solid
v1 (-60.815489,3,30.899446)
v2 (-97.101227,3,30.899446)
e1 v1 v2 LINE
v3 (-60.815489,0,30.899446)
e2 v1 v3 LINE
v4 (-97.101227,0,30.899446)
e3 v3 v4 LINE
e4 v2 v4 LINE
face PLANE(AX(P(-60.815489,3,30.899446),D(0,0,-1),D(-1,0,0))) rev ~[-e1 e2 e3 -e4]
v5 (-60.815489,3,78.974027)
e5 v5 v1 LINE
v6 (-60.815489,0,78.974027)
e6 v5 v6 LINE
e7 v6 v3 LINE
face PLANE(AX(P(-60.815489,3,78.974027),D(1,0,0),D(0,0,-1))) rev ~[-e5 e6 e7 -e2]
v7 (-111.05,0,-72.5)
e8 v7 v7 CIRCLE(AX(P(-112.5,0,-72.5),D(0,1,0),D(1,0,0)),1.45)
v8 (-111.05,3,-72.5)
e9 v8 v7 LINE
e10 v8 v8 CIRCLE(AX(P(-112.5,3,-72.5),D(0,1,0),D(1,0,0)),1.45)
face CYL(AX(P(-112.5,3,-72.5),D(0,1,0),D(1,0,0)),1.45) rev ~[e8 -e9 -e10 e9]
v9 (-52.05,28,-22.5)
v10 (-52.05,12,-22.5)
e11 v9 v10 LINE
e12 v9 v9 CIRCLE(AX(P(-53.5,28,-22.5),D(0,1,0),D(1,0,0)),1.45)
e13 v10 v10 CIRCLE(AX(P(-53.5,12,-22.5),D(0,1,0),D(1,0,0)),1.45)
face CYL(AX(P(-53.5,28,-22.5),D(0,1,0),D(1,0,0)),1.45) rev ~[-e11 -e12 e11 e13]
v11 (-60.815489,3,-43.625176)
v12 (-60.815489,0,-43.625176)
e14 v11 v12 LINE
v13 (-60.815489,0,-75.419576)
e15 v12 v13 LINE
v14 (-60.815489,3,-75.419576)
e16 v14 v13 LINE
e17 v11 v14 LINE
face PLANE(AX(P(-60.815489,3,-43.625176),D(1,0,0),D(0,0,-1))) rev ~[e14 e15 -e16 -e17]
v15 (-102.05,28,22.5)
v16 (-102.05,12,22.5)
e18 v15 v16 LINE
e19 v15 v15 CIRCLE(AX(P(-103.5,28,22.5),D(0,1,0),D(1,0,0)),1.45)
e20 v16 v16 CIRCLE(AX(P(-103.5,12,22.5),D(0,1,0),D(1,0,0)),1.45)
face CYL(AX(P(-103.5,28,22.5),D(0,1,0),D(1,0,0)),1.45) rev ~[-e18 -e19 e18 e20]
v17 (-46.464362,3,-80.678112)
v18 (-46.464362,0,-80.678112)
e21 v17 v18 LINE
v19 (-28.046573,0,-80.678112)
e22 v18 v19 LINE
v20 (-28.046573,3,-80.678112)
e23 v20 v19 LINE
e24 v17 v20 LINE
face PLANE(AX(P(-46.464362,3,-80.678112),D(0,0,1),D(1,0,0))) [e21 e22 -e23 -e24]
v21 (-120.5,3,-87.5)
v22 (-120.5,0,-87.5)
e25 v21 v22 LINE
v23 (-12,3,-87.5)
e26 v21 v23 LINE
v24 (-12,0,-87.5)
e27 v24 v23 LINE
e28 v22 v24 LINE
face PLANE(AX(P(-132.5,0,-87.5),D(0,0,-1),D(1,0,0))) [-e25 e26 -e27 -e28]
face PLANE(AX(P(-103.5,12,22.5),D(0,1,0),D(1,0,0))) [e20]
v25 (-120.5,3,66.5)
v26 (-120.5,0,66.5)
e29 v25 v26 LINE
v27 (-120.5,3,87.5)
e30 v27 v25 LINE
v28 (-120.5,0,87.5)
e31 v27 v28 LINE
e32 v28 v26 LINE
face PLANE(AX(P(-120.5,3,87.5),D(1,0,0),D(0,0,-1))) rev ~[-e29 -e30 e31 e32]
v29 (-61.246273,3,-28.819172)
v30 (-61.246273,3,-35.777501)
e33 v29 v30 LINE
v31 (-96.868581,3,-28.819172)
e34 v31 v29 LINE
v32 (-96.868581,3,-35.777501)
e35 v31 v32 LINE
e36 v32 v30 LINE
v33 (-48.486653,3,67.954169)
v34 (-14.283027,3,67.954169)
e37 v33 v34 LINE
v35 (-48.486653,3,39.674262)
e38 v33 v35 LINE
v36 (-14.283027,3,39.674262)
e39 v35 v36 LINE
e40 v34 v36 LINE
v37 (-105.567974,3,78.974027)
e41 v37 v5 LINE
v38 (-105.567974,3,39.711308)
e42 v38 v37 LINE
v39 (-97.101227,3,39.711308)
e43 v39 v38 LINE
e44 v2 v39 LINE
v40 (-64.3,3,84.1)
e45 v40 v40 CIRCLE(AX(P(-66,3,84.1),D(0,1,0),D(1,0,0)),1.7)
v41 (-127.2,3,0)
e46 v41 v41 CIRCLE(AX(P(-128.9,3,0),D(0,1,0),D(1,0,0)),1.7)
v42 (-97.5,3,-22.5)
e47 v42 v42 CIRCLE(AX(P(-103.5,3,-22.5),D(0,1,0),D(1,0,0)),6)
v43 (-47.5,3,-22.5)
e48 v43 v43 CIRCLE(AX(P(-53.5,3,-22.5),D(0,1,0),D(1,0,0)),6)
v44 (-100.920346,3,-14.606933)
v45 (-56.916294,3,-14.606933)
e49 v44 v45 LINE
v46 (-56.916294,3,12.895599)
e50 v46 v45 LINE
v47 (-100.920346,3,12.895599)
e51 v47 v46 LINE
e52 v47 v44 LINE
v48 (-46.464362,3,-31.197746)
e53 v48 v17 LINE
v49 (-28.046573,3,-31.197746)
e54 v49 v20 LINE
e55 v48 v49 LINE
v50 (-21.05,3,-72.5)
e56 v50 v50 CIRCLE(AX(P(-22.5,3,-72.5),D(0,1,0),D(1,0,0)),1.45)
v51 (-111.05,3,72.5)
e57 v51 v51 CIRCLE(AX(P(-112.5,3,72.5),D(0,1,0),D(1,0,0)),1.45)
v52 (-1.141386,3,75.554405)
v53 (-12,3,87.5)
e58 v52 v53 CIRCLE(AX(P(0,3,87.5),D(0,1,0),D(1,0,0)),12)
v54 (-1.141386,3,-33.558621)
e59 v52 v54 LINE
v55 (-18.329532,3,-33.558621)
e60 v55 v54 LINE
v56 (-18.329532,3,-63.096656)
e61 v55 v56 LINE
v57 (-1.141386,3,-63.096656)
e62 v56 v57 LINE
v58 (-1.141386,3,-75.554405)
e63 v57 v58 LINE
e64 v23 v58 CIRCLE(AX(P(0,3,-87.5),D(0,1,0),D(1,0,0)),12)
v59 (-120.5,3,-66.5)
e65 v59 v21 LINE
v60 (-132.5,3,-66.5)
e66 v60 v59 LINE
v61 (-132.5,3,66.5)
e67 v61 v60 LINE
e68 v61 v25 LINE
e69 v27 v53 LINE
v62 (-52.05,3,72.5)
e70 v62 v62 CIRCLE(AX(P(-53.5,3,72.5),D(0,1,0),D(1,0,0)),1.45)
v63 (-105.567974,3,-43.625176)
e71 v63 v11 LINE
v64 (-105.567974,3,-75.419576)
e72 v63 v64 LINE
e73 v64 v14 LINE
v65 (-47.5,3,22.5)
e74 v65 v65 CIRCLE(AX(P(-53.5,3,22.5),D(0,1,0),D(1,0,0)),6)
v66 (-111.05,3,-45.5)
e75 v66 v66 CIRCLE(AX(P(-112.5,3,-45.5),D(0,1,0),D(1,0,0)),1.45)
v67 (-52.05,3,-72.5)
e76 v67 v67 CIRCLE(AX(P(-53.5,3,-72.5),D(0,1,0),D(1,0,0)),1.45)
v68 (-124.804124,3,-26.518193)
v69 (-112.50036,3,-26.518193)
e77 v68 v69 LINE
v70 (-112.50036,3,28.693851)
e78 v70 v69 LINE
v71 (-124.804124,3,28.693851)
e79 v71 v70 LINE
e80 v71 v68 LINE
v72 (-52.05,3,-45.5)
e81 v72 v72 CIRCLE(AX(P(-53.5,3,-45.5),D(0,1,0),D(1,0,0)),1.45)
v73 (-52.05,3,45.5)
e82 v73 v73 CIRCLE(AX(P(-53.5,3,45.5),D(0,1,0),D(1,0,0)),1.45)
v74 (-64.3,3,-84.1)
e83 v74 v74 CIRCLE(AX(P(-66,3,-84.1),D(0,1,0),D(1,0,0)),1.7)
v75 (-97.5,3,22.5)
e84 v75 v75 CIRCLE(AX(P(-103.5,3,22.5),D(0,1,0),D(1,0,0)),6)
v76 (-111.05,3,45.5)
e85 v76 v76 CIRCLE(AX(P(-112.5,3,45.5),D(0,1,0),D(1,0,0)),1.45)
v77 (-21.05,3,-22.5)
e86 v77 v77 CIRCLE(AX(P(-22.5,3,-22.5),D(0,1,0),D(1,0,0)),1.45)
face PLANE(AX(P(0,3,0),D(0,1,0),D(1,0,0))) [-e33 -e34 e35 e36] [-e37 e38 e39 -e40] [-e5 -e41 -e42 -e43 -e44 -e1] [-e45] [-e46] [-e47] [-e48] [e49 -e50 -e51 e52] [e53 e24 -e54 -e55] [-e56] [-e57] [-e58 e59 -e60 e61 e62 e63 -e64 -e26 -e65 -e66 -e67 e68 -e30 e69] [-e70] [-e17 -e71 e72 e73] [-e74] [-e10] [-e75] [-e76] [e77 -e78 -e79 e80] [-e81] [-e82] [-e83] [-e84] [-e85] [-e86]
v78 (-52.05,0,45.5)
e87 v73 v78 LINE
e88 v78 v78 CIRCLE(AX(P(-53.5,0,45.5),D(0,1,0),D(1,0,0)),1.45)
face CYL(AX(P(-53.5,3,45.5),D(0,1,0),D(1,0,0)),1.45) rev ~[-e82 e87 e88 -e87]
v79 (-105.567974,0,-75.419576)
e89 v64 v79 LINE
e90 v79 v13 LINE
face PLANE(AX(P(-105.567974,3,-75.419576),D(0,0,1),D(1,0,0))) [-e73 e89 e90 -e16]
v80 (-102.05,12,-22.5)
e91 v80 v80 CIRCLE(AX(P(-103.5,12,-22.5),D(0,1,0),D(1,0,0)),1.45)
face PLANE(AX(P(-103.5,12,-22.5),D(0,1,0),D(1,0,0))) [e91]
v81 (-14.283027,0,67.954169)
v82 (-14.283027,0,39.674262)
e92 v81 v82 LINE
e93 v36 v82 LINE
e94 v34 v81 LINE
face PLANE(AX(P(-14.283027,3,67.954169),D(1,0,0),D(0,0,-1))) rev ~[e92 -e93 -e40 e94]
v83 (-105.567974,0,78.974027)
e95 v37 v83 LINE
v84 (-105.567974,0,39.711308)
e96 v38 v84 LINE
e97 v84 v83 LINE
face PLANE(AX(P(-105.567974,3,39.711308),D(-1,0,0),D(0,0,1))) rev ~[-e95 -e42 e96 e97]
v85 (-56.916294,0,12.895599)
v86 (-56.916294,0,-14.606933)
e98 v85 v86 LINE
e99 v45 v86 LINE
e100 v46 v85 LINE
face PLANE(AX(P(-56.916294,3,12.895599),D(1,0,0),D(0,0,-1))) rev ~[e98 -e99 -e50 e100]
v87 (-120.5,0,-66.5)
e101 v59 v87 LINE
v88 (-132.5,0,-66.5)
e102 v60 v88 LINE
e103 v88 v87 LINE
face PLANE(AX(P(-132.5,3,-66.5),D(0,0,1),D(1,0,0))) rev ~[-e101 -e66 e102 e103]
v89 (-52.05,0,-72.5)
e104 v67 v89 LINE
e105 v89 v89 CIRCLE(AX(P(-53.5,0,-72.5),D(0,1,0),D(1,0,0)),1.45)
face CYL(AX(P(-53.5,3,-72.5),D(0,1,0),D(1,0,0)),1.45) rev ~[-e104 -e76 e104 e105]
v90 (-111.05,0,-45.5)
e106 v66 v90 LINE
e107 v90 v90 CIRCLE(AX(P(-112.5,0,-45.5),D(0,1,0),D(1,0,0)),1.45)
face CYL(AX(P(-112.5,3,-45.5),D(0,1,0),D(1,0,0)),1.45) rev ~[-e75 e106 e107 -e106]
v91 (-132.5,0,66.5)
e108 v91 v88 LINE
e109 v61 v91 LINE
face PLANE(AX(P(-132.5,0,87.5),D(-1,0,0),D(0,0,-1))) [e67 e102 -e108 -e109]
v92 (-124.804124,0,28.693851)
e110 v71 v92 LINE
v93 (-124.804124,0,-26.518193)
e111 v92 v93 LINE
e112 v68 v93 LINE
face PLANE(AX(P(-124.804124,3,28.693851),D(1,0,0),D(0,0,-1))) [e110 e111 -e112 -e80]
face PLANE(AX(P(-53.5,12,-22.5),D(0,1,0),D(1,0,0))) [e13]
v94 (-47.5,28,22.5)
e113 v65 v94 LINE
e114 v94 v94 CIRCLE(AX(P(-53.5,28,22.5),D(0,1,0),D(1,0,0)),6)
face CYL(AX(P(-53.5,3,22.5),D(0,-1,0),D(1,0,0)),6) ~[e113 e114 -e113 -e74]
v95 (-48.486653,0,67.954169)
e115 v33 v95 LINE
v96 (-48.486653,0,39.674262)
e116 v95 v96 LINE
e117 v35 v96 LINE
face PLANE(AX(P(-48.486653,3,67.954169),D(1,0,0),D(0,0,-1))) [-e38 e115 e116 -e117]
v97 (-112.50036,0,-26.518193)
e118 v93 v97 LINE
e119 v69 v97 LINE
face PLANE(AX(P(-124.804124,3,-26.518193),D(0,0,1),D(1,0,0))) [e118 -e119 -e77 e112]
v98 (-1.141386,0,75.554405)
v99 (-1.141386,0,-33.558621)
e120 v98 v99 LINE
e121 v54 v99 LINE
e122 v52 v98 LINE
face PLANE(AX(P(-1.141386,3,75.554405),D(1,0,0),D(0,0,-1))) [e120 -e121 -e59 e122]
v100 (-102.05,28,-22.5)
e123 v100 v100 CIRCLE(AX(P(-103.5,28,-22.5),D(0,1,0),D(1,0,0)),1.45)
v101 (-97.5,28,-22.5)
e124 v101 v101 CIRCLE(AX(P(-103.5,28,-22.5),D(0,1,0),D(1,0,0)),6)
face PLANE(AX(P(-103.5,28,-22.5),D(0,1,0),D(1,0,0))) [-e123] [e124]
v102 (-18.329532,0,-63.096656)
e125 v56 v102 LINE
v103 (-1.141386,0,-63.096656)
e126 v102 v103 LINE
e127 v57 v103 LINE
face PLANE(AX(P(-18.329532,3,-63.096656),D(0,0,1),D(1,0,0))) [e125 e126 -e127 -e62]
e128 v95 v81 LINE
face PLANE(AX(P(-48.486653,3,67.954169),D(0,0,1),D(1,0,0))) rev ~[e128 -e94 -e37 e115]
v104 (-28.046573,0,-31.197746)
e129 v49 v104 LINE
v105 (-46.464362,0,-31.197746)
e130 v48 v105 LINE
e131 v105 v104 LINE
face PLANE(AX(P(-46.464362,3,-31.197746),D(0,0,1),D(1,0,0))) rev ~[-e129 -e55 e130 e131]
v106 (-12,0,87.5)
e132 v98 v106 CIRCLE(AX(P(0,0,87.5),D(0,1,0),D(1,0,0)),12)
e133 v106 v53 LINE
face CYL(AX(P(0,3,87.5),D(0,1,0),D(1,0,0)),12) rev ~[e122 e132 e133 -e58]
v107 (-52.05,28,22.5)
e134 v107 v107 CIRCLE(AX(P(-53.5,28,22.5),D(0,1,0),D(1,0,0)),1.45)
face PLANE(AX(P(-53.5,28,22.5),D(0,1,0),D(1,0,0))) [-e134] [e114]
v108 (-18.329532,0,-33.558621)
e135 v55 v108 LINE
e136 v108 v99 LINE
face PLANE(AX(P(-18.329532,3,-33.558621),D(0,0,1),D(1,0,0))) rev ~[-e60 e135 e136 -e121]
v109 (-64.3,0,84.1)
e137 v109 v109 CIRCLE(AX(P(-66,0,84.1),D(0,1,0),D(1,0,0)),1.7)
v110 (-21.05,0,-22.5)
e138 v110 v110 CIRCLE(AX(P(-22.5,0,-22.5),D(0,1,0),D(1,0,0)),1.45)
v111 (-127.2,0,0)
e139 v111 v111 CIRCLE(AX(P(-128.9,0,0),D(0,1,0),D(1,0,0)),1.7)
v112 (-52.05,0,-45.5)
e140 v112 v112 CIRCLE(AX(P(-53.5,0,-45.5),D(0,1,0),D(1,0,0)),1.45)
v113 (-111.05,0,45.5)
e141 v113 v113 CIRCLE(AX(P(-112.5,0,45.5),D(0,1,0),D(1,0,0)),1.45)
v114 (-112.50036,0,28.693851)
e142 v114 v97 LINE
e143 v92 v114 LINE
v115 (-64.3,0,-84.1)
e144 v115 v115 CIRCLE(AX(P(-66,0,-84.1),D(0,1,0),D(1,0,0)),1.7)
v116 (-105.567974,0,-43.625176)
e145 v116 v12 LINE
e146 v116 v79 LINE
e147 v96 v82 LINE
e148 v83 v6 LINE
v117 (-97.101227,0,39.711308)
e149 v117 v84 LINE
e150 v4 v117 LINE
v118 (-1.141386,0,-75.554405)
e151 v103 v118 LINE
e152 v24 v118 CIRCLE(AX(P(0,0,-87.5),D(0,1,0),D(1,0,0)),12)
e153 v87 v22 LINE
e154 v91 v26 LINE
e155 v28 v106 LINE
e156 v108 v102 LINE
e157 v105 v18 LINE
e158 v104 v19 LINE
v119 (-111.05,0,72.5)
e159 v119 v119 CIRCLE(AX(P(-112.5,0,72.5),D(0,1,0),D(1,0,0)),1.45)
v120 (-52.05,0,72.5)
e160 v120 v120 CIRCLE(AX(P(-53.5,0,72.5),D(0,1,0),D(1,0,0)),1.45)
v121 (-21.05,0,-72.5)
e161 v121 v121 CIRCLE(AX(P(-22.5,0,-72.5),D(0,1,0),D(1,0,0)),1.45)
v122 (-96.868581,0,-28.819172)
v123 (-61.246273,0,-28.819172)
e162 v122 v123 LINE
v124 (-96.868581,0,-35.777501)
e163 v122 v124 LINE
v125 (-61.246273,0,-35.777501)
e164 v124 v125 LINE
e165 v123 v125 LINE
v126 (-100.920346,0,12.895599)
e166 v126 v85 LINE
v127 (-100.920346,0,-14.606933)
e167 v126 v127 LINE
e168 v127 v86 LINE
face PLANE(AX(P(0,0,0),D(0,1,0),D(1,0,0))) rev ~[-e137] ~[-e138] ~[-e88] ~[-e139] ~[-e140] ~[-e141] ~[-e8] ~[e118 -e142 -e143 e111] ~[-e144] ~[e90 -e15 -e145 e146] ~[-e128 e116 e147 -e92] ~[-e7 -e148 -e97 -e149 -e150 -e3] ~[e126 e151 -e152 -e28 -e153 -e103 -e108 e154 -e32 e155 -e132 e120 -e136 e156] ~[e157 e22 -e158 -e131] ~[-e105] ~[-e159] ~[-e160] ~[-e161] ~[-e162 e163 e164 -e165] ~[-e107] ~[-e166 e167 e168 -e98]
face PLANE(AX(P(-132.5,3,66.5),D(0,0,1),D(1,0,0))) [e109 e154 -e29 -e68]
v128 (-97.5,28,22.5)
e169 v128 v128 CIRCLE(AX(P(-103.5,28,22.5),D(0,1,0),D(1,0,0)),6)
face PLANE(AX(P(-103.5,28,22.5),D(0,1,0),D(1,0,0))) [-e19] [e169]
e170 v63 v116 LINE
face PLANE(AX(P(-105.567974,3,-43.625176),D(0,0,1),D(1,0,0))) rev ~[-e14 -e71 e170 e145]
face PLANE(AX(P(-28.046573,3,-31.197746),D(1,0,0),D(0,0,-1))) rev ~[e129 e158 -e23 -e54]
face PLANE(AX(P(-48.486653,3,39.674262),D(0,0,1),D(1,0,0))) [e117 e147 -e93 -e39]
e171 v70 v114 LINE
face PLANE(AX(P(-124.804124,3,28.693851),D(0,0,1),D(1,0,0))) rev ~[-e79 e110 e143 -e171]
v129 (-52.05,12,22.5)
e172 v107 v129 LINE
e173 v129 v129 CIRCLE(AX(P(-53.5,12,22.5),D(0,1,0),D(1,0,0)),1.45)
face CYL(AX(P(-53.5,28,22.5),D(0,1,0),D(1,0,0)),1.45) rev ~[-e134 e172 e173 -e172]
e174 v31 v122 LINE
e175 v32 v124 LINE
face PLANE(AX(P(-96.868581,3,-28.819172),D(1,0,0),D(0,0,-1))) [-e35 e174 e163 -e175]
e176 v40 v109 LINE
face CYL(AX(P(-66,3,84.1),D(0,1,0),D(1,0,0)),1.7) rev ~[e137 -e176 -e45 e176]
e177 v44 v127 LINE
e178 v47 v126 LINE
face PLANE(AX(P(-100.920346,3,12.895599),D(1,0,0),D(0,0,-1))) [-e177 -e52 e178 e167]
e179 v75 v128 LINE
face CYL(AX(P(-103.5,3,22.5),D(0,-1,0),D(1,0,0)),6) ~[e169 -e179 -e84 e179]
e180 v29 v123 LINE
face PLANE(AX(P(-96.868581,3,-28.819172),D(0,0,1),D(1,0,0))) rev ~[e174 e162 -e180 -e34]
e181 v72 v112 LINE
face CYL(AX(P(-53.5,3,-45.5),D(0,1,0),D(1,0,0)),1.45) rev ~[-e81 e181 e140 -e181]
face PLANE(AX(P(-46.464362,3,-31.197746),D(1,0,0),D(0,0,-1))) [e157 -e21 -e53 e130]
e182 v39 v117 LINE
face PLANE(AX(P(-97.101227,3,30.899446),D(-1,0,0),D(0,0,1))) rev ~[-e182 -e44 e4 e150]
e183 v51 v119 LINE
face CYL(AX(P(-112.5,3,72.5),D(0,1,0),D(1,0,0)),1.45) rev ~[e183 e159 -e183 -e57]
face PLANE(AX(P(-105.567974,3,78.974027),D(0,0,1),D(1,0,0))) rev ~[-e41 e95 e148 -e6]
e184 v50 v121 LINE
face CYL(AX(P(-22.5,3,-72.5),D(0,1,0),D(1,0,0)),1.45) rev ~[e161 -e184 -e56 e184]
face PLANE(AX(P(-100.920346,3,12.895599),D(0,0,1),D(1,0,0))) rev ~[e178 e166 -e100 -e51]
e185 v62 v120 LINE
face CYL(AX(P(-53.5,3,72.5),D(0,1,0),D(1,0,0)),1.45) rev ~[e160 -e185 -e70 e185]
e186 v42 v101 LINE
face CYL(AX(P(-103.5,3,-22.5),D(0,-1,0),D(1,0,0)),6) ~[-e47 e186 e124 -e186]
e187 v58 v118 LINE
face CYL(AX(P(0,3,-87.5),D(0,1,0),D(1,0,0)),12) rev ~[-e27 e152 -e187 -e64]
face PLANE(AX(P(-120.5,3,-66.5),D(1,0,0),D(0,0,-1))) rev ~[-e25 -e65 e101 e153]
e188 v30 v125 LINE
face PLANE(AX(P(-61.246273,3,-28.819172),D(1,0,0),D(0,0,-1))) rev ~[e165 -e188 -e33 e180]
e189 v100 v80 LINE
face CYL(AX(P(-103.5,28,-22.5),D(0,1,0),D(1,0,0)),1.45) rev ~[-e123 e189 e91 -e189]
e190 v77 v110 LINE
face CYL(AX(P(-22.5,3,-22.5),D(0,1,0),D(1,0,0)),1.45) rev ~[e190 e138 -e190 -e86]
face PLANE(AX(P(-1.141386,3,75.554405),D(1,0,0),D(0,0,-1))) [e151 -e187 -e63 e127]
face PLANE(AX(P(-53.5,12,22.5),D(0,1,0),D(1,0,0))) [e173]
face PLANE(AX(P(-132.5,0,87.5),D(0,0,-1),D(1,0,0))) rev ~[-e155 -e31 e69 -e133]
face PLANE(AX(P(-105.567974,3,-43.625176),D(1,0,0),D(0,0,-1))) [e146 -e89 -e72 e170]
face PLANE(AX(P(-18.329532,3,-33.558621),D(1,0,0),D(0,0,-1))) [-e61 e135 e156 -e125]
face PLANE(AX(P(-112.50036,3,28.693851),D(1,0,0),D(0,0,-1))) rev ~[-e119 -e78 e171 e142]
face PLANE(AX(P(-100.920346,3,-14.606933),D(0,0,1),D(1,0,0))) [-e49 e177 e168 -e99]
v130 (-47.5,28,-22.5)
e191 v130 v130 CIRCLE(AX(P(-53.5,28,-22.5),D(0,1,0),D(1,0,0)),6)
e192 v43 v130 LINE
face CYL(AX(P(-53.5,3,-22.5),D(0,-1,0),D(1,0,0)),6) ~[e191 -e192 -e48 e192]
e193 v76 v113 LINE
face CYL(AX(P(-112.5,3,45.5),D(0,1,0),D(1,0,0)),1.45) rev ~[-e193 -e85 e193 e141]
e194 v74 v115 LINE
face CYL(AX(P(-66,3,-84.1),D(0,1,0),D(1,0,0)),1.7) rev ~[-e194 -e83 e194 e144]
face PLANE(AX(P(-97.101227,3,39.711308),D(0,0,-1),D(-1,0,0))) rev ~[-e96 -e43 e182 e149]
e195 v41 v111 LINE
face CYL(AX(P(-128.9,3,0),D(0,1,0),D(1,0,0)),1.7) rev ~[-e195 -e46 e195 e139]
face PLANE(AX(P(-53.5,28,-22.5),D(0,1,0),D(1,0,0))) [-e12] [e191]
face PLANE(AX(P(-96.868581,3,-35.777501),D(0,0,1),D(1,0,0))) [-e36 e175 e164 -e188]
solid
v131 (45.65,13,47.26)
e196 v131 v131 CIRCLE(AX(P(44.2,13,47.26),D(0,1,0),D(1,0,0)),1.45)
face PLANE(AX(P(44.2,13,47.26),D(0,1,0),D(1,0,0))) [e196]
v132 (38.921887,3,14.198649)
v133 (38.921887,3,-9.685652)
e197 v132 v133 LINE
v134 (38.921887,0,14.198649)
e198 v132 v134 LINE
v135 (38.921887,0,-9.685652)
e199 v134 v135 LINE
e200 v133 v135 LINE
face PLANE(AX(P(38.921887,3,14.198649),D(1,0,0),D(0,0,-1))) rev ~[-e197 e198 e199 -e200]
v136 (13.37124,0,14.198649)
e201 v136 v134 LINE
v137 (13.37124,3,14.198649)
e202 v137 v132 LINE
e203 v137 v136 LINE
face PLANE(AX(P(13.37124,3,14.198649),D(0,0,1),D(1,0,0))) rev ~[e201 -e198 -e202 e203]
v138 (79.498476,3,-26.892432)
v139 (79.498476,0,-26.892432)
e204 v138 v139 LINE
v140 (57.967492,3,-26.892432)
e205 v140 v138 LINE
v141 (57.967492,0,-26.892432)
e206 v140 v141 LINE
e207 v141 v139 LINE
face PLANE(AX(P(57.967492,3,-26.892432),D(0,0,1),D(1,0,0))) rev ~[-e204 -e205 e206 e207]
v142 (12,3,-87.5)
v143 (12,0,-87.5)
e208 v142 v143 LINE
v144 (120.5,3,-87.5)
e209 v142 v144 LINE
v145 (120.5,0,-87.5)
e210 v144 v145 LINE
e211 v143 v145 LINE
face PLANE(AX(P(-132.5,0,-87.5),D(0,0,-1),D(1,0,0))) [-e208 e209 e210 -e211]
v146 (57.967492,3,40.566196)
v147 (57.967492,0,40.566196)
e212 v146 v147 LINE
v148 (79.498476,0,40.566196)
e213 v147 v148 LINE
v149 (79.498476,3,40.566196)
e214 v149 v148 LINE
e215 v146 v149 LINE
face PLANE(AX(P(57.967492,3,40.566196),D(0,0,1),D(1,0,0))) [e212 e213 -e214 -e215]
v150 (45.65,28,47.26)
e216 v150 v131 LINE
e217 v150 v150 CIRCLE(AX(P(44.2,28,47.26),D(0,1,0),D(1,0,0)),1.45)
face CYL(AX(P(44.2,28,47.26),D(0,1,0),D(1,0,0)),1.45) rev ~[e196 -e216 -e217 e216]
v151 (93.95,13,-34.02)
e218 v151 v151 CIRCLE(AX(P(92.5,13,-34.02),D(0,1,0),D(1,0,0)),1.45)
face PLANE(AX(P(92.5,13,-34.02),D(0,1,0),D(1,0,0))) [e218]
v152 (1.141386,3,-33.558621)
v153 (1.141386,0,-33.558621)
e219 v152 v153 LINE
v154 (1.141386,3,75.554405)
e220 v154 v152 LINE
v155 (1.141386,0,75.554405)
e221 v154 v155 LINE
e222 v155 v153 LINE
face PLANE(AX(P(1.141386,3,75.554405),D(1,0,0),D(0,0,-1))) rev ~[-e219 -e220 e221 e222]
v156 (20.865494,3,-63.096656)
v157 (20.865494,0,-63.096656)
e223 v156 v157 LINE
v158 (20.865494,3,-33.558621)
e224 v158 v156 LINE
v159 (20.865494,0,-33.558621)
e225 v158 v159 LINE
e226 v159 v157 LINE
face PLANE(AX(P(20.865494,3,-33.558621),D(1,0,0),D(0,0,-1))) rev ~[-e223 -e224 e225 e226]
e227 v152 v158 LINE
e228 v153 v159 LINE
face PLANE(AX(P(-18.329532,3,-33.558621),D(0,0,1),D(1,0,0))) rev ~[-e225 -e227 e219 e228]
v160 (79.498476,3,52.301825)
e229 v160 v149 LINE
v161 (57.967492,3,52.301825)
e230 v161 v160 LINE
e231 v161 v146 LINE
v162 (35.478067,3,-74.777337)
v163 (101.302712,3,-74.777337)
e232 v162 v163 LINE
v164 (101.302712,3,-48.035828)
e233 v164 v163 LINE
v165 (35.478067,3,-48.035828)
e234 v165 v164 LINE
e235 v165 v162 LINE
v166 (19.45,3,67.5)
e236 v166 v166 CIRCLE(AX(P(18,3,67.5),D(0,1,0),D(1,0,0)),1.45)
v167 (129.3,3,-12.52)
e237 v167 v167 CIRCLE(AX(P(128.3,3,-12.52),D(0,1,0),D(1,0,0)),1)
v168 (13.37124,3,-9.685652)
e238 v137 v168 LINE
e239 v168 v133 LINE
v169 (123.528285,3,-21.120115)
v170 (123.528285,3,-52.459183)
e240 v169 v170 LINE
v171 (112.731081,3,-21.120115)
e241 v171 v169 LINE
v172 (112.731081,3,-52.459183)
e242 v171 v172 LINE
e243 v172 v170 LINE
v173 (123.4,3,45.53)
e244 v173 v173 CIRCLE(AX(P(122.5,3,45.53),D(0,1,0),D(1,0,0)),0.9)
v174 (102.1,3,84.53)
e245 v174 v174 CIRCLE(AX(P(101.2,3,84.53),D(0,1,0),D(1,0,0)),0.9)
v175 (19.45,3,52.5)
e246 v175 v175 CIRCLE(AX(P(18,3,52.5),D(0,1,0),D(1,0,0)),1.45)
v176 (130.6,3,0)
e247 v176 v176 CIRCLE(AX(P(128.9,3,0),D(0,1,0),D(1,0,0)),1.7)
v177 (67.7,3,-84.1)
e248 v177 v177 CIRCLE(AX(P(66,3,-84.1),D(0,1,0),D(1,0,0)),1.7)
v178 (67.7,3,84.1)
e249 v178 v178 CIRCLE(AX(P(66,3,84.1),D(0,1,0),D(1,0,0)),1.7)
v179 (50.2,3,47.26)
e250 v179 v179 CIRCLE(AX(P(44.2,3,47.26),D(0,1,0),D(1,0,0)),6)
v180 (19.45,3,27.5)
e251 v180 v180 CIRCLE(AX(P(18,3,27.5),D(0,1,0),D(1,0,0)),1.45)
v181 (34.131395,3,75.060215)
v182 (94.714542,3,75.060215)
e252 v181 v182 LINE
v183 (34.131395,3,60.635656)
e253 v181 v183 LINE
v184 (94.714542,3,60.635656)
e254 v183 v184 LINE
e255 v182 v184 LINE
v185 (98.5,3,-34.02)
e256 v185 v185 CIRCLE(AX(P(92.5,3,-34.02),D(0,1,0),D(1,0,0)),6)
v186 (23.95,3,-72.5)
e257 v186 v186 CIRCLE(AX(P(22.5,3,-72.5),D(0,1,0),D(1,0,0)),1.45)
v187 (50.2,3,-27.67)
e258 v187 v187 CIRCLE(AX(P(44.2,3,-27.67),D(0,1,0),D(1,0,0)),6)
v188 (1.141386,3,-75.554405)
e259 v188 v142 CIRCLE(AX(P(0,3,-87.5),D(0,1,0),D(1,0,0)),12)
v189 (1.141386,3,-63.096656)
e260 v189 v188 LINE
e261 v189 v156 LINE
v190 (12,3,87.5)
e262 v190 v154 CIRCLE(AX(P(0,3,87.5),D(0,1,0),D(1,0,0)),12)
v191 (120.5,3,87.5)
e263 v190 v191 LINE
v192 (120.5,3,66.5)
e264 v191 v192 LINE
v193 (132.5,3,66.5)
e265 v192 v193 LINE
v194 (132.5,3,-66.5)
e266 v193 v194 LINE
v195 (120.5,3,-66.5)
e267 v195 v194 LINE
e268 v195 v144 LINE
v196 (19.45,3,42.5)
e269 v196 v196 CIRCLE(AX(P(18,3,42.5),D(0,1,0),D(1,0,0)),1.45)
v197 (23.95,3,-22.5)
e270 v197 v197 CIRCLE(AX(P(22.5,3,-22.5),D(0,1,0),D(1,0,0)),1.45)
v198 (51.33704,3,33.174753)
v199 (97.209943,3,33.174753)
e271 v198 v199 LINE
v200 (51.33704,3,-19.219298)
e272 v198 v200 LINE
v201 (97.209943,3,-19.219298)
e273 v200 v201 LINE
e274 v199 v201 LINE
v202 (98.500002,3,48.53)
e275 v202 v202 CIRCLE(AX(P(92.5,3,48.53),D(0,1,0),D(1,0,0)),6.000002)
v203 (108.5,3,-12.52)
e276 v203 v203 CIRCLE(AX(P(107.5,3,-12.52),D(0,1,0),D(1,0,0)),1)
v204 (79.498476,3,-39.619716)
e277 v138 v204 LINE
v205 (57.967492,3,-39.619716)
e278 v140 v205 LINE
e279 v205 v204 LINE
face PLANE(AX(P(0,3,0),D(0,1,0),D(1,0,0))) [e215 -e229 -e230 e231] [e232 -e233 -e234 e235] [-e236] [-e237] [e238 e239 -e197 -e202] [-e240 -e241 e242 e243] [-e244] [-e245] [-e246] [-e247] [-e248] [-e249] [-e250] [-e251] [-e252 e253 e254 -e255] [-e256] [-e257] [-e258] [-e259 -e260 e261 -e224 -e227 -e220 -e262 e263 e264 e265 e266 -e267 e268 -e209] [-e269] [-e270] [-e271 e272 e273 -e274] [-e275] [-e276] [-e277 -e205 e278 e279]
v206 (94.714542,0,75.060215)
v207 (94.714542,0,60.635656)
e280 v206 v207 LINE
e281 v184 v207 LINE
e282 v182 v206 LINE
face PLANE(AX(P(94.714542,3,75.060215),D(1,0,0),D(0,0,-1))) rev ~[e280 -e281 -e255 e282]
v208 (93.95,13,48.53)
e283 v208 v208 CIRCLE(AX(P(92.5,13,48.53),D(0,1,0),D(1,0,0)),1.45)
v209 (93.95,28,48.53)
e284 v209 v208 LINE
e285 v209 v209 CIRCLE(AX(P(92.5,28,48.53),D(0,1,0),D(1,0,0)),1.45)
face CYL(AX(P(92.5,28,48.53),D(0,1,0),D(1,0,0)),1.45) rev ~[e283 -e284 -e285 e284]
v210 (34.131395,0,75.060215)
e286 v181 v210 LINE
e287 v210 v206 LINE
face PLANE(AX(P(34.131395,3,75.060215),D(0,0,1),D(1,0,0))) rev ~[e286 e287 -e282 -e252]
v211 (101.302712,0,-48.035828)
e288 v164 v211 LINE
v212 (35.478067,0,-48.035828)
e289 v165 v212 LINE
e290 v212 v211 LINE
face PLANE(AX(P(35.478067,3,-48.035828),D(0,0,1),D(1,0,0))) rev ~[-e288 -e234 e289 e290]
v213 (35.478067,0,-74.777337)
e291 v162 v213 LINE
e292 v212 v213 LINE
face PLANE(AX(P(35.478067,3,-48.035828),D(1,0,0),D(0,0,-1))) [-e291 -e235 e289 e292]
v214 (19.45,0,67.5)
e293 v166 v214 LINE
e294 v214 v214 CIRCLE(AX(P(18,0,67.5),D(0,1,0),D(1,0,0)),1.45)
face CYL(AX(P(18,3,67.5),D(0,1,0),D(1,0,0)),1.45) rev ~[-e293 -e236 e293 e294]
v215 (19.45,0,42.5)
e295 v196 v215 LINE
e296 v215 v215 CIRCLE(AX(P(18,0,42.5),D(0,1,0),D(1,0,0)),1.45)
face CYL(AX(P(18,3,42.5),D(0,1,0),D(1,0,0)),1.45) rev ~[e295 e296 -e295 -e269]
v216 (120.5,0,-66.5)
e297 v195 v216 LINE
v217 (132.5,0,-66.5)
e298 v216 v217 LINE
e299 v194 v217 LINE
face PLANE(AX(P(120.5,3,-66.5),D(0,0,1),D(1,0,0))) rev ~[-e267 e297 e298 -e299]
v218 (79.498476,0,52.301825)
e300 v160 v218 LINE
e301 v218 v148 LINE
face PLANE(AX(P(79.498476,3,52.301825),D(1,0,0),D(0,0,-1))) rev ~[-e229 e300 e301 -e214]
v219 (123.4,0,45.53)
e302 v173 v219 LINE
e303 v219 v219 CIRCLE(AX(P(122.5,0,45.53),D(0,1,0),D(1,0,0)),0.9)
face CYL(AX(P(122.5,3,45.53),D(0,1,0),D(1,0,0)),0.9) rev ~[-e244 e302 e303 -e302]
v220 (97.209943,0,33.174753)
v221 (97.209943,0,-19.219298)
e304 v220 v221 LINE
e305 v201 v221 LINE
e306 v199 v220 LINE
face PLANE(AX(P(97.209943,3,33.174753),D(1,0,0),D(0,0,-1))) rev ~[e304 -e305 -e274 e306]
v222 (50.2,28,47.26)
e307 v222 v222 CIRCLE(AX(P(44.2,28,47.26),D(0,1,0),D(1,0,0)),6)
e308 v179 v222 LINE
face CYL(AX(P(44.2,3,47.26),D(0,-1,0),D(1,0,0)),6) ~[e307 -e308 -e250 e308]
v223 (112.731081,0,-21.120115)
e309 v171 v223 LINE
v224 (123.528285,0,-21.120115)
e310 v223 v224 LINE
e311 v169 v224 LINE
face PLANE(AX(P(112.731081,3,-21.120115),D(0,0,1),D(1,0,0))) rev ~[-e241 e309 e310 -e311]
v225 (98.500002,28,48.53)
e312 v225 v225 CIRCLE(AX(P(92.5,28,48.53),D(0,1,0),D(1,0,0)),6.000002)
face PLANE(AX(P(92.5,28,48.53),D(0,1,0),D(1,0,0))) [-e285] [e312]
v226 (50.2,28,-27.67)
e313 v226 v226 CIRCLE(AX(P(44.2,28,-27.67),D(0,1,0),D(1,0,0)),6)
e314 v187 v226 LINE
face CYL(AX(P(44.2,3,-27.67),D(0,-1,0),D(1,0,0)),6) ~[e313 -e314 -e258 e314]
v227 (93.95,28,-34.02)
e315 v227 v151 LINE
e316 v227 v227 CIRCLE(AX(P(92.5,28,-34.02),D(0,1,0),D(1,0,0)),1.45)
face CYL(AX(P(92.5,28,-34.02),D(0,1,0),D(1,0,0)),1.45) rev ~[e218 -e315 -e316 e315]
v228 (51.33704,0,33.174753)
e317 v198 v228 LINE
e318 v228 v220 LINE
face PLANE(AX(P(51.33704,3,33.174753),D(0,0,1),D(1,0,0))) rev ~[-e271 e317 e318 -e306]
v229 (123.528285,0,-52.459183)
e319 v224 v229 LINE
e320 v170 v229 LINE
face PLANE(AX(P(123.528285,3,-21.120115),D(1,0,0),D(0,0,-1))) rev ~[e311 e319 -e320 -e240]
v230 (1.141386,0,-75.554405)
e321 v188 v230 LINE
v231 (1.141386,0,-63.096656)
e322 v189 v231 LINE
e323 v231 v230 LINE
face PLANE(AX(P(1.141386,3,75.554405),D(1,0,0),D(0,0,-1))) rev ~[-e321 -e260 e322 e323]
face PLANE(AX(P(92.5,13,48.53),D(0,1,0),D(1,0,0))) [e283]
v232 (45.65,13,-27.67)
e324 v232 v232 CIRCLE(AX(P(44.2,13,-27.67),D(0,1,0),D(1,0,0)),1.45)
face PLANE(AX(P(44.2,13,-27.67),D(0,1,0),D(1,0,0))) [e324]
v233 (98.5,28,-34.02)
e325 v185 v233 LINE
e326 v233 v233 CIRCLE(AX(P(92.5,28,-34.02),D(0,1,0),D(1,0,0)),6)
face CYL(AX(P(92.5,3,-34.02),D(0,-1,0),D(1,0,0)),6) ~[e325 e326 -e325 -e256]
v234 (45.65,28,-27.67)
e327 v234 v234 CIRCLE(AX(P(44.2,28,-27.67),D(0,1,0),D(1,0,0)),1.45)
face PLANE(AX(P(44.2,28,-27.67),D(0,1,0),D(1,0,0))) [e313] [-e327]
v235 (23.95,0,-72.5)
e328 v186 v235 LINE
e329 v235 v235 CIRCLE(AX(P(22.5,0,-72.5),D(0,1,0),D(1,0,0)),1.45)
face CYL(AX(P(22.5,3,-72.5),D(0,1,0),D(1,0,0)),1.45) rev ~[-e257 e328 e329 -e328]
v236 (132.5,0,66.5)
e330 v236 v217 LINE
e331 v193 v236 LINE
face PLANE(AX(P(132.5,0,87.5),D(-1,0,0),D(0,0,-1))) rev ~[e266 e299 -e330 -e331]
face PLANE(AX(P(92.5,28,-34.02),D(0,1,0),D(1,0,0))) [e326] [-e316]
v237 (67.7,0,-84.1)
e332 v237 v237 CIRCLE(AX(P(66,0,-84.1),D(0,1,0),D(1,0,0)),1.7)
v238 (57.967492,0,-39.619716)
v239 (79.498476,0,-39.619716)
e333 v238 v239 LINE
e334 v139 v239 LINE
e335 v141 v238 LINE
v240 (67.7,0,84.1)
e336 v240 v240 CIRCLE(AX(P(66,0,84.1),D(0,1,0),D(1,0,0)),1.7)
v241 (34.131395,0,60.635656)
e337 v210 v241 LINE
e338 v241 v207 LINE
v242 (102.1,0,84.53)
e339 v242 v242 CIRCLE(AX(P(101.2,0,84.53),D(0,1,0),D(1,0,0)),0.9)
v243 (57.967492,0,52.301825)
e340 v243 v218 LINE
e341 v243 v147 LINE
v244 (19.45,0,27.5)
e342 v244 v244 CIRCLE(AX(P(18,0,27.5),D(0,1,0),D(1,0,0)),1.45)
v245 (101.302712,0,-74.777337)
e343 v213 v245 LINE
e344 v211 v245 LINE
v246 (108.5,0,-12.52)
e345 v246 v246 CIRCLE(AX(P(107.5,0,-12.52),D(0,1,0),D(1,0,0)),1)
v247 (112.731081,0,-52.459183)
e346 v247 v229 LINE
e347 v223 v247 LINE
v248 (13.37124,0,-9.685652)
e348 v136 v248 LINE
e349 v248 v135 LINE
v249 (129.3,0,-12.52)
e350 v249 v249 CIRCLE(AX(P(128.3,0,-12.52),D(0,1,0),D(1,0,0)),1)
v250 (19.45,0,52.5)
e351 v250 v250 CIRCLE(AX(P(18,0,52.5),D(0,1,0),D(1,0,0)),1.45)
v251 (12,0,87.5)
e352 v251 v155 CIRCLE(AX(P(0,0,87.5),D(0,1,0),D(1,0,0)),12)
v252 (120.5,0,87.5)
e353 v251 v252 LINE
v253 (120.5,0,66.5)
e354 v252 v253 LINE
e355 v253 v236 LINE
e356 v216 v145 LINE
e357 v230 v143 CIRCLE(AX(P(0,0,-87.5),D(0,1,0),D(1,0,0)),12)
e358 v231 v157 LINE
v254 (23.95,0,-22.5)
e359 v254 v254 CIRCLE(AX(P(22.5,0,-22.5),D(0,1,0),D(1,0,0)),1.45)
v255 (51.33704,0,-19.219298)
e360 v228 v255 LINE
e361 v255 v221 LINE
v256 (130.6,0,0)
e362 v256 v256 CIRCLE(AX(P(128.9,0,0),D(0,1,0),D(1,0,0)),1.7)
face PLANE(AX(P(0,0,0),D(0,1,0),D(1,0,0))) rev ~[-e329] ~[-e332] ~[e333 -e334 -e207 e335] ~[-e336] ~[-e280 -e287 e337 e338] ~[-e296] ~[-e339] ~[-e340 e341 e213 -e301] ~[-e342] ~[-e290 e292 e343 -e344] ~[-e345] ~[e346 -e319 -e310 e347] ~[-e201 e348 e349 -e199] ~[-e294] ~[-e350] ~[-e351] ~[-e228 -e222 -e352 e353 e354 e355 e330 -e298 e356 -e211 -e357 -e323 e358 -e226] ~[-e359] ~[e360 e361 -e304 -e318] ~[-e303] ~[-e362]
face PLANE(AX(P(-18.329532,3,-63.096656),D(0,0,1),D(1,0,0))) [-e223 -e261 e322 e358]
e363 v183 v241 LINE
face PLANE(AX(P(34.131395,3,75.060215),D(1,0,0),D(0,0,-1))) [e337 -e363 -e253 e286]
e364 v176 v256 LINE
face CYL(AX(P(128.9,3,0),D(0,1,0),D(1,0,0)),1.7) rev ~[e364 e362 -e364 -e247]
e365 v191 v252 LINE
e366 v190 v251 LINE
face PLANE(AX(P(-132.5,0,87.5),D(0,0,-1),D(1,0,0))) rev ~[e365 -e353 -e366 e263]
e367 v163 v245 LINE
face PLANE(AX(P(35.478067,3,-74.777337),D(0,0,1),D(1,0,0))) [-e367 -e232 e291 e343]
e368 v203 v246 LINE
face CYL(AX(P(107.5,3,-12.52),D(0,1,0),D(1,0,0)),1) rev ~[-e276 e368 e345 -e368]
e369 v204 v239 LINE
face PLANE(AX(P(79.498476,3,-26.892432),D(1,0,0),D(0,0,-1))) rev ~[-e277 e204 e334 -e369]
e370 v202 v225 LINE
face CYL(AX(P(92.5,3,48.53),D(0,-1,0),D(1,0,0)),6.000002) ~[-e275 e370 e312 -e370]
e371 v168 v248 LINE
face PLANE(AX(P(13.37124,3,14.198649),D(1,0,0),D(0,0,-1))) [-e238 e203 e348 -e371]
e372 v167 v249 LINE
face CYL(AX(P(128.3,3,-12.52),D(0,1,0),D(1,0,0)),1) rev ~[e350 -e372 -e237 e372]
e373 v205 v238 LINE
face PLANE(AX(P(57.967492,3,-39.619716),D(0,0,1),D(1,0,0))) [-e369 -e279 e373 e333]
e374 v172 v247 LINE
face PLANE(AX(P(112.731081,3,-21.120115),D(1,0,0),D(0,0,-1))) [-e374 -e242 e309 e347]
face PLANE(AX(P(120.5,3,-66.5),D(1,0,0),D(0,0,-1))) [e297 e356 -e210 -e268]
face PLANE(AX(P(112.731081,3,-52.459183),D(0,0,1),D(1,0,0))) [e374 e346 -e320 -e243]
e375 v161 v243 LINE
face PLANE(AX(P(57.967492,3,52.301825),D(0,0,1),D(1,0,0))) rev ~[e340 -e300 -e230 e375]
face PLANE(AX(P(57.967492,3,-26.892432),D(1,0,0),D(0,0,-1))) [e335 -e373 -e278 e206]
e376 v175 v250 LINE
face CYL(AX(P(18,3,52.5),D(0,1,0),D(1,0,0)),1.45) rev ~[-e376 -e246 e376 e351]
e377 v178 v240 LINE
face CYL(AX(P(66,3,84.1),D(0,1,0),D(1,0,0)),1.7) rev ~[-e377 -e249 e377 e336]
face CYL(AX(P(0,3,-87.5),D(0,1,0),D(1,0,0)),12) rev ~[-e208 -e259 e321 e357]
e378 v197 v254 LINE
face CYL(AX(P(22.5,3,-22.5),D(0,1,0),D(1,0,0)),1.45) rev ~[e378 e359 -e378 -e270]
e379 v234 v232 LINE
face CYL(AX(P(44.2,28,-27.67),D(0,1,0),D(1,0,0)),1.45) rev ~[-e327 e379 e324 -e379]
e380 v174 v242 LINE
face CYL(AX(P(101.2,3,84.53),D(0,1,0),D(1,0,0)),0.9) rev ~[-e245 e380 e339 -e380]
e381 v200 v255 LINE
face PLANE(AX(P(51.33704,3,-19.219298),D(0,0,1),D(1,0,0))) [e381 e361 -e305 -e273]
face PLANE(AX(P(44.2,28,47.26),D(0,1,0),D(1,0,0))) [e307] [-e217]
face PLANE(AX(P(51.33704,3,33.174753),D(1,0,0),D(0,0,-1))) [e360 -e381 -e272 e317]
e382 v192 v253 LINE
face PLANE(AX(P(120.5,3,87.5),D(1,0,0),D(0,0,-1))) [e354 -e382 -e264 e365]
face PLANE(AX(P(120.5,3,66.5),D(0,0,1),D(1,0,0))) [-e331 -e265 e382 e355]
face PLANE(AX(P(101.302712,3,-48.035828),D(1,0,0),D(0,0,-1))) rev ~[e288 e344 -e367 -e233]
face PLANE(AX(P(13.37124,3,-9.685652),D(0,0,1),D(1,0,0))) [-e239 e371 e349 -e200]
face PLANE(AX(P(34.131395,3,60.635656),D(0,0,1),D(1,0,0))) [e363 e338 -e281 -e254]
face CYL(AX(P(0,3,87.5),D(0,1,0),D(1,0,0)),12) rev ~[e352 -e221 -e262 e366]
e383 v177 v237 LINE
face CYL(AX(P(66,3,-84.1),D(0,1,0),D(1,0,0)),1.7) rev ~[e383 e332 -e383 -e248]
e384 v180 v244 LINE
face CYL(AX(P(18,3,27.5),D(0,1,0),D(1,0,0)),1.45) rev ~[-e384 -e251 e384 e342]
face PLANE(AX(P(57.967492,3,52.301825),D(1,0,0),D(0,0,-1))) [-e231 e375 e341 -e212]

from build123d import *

# Parameters (mm, degrees)
SKETCH1_W           = 265
SKETCH1_H           = 175
BOSS_EXTRUDE3_DEPTH = 3
SKETCH2_R           = 1.45
CUT_EXTRUDE1_DEPTH  = 10
SKETCH3_R           = 1.7
CUT_EXTRUDE2_DEPTH  = 10
SKETCH4_R           = 12
SKETCH4_W           = 12
SKETCH4_H           = 21
CUT_EXTRUDE3_DEPTH  = 10
SKETCH5_R           = 6
BOSS_EXTRUDE4_DEPTH = 25
SKETCH6_R           = 1.45
CUT_EXTRUDE4_DEPTH  = 16
SKETCH7_W           = 2.28277186
SKETCH7_H           = 151.108810146
CUT_EXTRUDE5_DEPTH  = 16
SKETCH8_W           = 44.004051782
SKETCH8_H           = 27.502532364
SKETCH8_W_2         = 12.303764479
SKETCH8_H_2         = 55.212044537
SKETCH8_W_3         = 44.752484312
SKETCH8_H_3         = 31.794399539
SKETCH8_W_4         = 18.417789402
SKETCH8_H_4         = 49.48036565
SKETCH8_W_5         = 35.622307927
SKETCH8_H_5         = 6.958328597
SKETCH8_W_6         = 34.203626282
SKETCH8_H_6         = 28.27990646
SKETCH8_W_7         = 39.195026094
SKETCH8_H_7         = 29.538035132
CUT_EXTRUDE6_DEPTH  = 10
SKETCH9_R           = 6.000002307
SKETCH9_R_2         = 6
BOSS_EXTRUDE5_DEPTH = 25
SKETCH10_R          = 1.45
CUT_EXTRUDE7_DEPTH  = 15
SKETCH11_R          = 0.9
SKETCH11_R_2        = 1
CUT_EXTRUDE8_DEPTH  = 20
SKETCH12_W          = 65.824644824
SKETCH12_H          = 26.741508741
SKETCH12_W_2        = 45.872902753
SKETCH12_H_2        = 52.394050694
SKETCH12_W_3        = 25.550647508
SKETCH12_H_3        = 23.884300932
SKETCH12_W_4        = 60.583146779
SKETCH12_H_4        = 14.424558757
SKETCH12_W_5        = 10.797203955
SKETCH12_H_5        = 31.33906792
SKETCH12_W_6        = 21.530984019
SKETCH12_H_6        = 12.727284746
SKETCH12_H_7        = 11.735628575
CUT_EXTRUDE9_DEPTH  = 20


with BuildPart() as part:
    # Sketch1 → Boss-Extrude3 (new body)
    with BuildSketch(Plane(origin=(0, 0, 0), x_dir=(1, 0, 0), z_dir=(0, 1, 0))):
        Rectangle(SKETCH1_W, SKETCH1_H)
    extrude(amount=BOSS_EXTRUDE3_DEPTH)

    # Sketch2 → Cut-Extrude1 (cut)
    with BuildSketch(Plane(origin=(0, 3, 0), x_dir=(1, 0, 0), z_dir=(0, 1, 0))):
        with Locations((18, -67.5)):
            Circle(SKETCH2_R)
        with Locations((18, -52.5)):
            Circle(SKETCH2_R)
        with Locations((18, -42.5)):
            Circle(SKETCH2_R)
        with Locations((18, -27.5)):
            Circle(SKETCH2_R)
        with Locations((-53.5, -72.5)):
            Circle(SKETCH2_R)
        with Locations((-53.5, -45.5)):
            Circle(SKETCH2_R)
        with Locations((-112.5, -45.5)):
            Circle(SKETCH2_R)
        with Locations((-112.5, -72.5)):
            Circle(SKETCH2_R)
        with Locations((-112.5, 45.5)):
            Circle(SKETCH2_R)
        with Locations((-53.5, 45.5)):
            Circle(SKETCH2_R)
        with Locations((-53.5, 72.5)):
            Circle(SKETCH2_R)
        with Locations((-112.5, 72.5)):
            Circle(SKETCH2_R)
        with Locations((-22.5, 22.5)):
            Circle(SKETCH2_R)
        with Locations((22.5, 22.5)):
            Circle(SKETCH2_R)
        with Locations((-22.5, 72.5)):
            Circle(SKETCH2_R)
        with Locations((22.5, 72.5)):
            Circle(SKETCH2_R)
    extrude(amount=-CUT_EXTRUDE1_DEPTH, mode=Mode.SUBTRACT)

    # Sketch3 → Cut-Extrude2 (cut)
    with BuildSketch(Plane(origin=(0, 3, 0), x_dir=(1, 0, 0), z_dir=(0, 1, 0))):
        with Locations((-66, 84.1)):
            Circle(SKETCH3_R)
        with Locations((-128.9, 0)):
            Circle(SKETCH3_R)
        with Locations((-66, -84.1)):
            Circle(SKETCH3_R)
        with Locations((66, -84.1)):
            Circle(SKETCH3_R)
        with Locations((66, 84.1)):
            Circle(SKETCH3_R)
        with Locations((128.9, 0)):
            Circle(SKETCH3_R)
    extrude(amount=-CUT_EXTRUDE2_DEPTH, mode=Mode.SUBTRACT)

    # Sketch4 → Cut-Extrude3 (cut)
    with BuildSketch(Plane(origin=(0, 3, 0), x_dir=(1, 0, 0), z_dir=(0, 1, 0))):
        with Locations((0, 87.5)):
            Circle(SKETCH4_R)
        with Locations((0, -87.5)):
            Circle(SKETCH4_R)
        with Locations((-126.5, 77)):
            Rectangle(SKETCH4_W, SKETCH4_H)
        with Locations((-126.5, -77)):
            Rectangle(SKETCH4_W, SKETCH4_H)
        with Locations((126.5, -77)):
            Rectangle(SKETCH4_W, SKETCH4_H)
        with Locations((126.5, 77)):
            Rectangle(SKETCH4_W, SKETCH4_H)
    extrude(amount=-CUT_EXTRUDE3_DEPTH, mode=Mode.SUBTRACT)

    # Sketch5 → Boss-Extrude4 (add)
    with BuildSketch(Plane(origin=(0, 3, 0), x_dir=(1, 0, 0), z_dir=(0, 1, 0))):
        with Locations((-53.5, 22.5)):
            Circle(SKETCH5_R)
        with Locations((-53.5, -22.5)):
            Circle(SKETCH5_R)
        with Locations((-103.5, -22.5)):
            Circle(SKETCH5_R)
        with Locations((-103.5, 22.5)):
            Circle(SKETCH5_R)
    extrude(amount=BOSS_EXTRUDE4_DEPTH)

    # Sketch6 → Cut-Extrude4 (cut)
    with BuildSketch(Plane(origin=(0, 28, 0), x_dir=(1, 0, 0), z_dir=(0, 1, 0))):
        with Locations((-103.5, 22.5)):
            Circle(SKETCH6_R)
        with Locations((-53.5, 22.5)):
            Circle(SKETCH6_R)
        with Locations((-53.5, -22.5)):
            Circle(SKETCH6_R)
        with Locations((-103.5, -22.5)):
            Circle(SKETCH6_R)
    extrude(amount=-CUT_EXTRUDE4_DEPTH, mode=Mode.SUBTRACT)

    # Sketch7 → Cut-Extrude5 (cut)
    with BuildSketch(Plane(origin=(0, 3, 0), x_dir=(1, 0, 0), z_dir=(0, 1, 0))):
        Rectangle(SKETCH7_W, SKETCH7_H)
    extrude(amount=-CUT_EXTRUDE5_DEPTH, mode=Mode.SUBTRACT)

    # Sketch8 → Cut-Extrude6 (cut)
    with BuildSketch(Plane(origin=(0, 3, 0), x_dir=(1, 0, 0), z_dir=(0, 1, 0))):
        with Locations((-78.918320173, 0.855666755)):
            Rectangle(SKETCH8_W, SKETCH8_H)
        with Locations((-118.65224193, -1.087828844)):
            Rectangle(SKETCH8_W_2, SKETCH8_H_2)
        with Locations((-83.191731608, 59.522375806)):
            Rectangle(SKETCH8_W_3, SKETCH8_H_3)
        with Locations((-37.255467463, 55.937928823)):
            Rectangle(SKETCH8_W_4, SKETCH8_H_4)
        with Locations((-79.05742687, 32.298336537)):
            Rectangle(SKETCH8_W_5, SKETCH8_H_5)
        Polygon((-105.567973764, -39.71130787), (-105.567973764, -78.974026671), (-60.815489452, -78.974026671), (-60.815489452, -30.899446131), (-97.101226796, -30.899446131), (-97.101226796, -39.71130787), align=None)
        with Locations((-31.38483974, -53.81421566)):
            Rectangle(SKETCH8_W_6, SKETCH8_H_6)
        with Locations((1.26798102, 48.327638245)):
            Rectangle(SKETCH8_W_7, SKETCH8_H_7)
    extrude(amount=-CUT_EXTRUDE6_DEPTH, mode=Mode.SUBTRACT)

    # Sketch9 → Boss-Extrude5 (add)
    with BuildSketch(Plane(origin=(0, 3, 0), x_dir=(1, 0, 0), z_dir=(0, 1, 0))):
        with Locations((92.5, -48.53)):
            Circle(SKETCH9_R)
        with Locations((44.2, -47.26)):
            Circle(SKETCH9_R_2)
        with Locations((92.5, 34.02)):
            Circle(SKETCH9_R_2)
        with Locations((44.2, 27.67)):
            Circle(SKETCH9_R_2)
    extrude(amount=BOSS_EXTRUDE5_DEPTH)

    # Sketch10 → Cut-Extrude7 (cut)
    with BuildSketch(Plane(origin=(0, 28, 0), x_dir=(1, 0, 0), z_dir=(0, 1, 0))):
        with Locations((44.2, 27.67)):
            Circle(SKETCH10_R)
        with Locations((92.5, 34.02)):
            Circle(SKETCH10_R)
        with Locations((44.2, -47.26)):
            Circle(SKETCH10_R)
        with Locations((92.5, -48.53)):
            Circle(SKETCH10_R)
    extrude(amount=-CUT_EXTRUDE7_DEPTH, mode=Mode.SUBTRACT)

    # Sketch11 → Cut-Extrude8 (cut)
    with BuildSketch(Plane(origin=(0, 3, 0), x_dir=(1, 0, 0), z_dir=(0, 1, 0))):
        with Locations((122.5, -45.53)):
            Circle(SKETCH11_R)
        with Locations((101.2, -84.53)):
            Circle(SKETCH11_R)
        with Locations((107.5, 12.52)):
            Circle(SKETCH11_R_2)
        with Locations((128.3, 12.52)):
            Circle(SKETCH11_R_2)
    extrude(amount=-CUT_EXTRUDE8_DEPTH, mode=Mode.SUBTRACT)

    # Sketch12 → Cut-Extrude9 (cut)
    with BuildSketch(Plane(origin=(0, 3, 0), x_dir=(1, 0, 0), z_dir=(0, 1, 0))):
        with Locations((68.390389781, 61.406582632)):
            Rectangle(SKETCH12_W, SKETCH12_H)
        with Locations((74.273491824, -6.977727675)):
            Rectangle(SKETCH12_W_2, SKETCH12_H_2)
        with Locations((26.146563523, -2.256498378)):
            Rectangle(SKETCH12_W_3, SKETCH12_H_3)
        with Locations((64.422968154, -67.847935803)):
            Rectangle(SKETCH12_W_4, SKETCH12_H_4)
        with Locations((118.129683067, 36.789648858)):
            Rectangle(SKETCH12_W_5, SKETCH12_H_5)
        with Locations((68.732983789, 33.256074077)):
            Rectangle(SKETCH12_W_6, SKETCH12_H_6)
        with Locations((68.732983789, -46.43401065)):
            Rectangle(SKETCH12_W_6, SKETCH12_H_7)
    extrude(amount=-CUT_EXTRUDE9_DEPTH, mode=Mode.SUBTRACT)


solid = part.part
